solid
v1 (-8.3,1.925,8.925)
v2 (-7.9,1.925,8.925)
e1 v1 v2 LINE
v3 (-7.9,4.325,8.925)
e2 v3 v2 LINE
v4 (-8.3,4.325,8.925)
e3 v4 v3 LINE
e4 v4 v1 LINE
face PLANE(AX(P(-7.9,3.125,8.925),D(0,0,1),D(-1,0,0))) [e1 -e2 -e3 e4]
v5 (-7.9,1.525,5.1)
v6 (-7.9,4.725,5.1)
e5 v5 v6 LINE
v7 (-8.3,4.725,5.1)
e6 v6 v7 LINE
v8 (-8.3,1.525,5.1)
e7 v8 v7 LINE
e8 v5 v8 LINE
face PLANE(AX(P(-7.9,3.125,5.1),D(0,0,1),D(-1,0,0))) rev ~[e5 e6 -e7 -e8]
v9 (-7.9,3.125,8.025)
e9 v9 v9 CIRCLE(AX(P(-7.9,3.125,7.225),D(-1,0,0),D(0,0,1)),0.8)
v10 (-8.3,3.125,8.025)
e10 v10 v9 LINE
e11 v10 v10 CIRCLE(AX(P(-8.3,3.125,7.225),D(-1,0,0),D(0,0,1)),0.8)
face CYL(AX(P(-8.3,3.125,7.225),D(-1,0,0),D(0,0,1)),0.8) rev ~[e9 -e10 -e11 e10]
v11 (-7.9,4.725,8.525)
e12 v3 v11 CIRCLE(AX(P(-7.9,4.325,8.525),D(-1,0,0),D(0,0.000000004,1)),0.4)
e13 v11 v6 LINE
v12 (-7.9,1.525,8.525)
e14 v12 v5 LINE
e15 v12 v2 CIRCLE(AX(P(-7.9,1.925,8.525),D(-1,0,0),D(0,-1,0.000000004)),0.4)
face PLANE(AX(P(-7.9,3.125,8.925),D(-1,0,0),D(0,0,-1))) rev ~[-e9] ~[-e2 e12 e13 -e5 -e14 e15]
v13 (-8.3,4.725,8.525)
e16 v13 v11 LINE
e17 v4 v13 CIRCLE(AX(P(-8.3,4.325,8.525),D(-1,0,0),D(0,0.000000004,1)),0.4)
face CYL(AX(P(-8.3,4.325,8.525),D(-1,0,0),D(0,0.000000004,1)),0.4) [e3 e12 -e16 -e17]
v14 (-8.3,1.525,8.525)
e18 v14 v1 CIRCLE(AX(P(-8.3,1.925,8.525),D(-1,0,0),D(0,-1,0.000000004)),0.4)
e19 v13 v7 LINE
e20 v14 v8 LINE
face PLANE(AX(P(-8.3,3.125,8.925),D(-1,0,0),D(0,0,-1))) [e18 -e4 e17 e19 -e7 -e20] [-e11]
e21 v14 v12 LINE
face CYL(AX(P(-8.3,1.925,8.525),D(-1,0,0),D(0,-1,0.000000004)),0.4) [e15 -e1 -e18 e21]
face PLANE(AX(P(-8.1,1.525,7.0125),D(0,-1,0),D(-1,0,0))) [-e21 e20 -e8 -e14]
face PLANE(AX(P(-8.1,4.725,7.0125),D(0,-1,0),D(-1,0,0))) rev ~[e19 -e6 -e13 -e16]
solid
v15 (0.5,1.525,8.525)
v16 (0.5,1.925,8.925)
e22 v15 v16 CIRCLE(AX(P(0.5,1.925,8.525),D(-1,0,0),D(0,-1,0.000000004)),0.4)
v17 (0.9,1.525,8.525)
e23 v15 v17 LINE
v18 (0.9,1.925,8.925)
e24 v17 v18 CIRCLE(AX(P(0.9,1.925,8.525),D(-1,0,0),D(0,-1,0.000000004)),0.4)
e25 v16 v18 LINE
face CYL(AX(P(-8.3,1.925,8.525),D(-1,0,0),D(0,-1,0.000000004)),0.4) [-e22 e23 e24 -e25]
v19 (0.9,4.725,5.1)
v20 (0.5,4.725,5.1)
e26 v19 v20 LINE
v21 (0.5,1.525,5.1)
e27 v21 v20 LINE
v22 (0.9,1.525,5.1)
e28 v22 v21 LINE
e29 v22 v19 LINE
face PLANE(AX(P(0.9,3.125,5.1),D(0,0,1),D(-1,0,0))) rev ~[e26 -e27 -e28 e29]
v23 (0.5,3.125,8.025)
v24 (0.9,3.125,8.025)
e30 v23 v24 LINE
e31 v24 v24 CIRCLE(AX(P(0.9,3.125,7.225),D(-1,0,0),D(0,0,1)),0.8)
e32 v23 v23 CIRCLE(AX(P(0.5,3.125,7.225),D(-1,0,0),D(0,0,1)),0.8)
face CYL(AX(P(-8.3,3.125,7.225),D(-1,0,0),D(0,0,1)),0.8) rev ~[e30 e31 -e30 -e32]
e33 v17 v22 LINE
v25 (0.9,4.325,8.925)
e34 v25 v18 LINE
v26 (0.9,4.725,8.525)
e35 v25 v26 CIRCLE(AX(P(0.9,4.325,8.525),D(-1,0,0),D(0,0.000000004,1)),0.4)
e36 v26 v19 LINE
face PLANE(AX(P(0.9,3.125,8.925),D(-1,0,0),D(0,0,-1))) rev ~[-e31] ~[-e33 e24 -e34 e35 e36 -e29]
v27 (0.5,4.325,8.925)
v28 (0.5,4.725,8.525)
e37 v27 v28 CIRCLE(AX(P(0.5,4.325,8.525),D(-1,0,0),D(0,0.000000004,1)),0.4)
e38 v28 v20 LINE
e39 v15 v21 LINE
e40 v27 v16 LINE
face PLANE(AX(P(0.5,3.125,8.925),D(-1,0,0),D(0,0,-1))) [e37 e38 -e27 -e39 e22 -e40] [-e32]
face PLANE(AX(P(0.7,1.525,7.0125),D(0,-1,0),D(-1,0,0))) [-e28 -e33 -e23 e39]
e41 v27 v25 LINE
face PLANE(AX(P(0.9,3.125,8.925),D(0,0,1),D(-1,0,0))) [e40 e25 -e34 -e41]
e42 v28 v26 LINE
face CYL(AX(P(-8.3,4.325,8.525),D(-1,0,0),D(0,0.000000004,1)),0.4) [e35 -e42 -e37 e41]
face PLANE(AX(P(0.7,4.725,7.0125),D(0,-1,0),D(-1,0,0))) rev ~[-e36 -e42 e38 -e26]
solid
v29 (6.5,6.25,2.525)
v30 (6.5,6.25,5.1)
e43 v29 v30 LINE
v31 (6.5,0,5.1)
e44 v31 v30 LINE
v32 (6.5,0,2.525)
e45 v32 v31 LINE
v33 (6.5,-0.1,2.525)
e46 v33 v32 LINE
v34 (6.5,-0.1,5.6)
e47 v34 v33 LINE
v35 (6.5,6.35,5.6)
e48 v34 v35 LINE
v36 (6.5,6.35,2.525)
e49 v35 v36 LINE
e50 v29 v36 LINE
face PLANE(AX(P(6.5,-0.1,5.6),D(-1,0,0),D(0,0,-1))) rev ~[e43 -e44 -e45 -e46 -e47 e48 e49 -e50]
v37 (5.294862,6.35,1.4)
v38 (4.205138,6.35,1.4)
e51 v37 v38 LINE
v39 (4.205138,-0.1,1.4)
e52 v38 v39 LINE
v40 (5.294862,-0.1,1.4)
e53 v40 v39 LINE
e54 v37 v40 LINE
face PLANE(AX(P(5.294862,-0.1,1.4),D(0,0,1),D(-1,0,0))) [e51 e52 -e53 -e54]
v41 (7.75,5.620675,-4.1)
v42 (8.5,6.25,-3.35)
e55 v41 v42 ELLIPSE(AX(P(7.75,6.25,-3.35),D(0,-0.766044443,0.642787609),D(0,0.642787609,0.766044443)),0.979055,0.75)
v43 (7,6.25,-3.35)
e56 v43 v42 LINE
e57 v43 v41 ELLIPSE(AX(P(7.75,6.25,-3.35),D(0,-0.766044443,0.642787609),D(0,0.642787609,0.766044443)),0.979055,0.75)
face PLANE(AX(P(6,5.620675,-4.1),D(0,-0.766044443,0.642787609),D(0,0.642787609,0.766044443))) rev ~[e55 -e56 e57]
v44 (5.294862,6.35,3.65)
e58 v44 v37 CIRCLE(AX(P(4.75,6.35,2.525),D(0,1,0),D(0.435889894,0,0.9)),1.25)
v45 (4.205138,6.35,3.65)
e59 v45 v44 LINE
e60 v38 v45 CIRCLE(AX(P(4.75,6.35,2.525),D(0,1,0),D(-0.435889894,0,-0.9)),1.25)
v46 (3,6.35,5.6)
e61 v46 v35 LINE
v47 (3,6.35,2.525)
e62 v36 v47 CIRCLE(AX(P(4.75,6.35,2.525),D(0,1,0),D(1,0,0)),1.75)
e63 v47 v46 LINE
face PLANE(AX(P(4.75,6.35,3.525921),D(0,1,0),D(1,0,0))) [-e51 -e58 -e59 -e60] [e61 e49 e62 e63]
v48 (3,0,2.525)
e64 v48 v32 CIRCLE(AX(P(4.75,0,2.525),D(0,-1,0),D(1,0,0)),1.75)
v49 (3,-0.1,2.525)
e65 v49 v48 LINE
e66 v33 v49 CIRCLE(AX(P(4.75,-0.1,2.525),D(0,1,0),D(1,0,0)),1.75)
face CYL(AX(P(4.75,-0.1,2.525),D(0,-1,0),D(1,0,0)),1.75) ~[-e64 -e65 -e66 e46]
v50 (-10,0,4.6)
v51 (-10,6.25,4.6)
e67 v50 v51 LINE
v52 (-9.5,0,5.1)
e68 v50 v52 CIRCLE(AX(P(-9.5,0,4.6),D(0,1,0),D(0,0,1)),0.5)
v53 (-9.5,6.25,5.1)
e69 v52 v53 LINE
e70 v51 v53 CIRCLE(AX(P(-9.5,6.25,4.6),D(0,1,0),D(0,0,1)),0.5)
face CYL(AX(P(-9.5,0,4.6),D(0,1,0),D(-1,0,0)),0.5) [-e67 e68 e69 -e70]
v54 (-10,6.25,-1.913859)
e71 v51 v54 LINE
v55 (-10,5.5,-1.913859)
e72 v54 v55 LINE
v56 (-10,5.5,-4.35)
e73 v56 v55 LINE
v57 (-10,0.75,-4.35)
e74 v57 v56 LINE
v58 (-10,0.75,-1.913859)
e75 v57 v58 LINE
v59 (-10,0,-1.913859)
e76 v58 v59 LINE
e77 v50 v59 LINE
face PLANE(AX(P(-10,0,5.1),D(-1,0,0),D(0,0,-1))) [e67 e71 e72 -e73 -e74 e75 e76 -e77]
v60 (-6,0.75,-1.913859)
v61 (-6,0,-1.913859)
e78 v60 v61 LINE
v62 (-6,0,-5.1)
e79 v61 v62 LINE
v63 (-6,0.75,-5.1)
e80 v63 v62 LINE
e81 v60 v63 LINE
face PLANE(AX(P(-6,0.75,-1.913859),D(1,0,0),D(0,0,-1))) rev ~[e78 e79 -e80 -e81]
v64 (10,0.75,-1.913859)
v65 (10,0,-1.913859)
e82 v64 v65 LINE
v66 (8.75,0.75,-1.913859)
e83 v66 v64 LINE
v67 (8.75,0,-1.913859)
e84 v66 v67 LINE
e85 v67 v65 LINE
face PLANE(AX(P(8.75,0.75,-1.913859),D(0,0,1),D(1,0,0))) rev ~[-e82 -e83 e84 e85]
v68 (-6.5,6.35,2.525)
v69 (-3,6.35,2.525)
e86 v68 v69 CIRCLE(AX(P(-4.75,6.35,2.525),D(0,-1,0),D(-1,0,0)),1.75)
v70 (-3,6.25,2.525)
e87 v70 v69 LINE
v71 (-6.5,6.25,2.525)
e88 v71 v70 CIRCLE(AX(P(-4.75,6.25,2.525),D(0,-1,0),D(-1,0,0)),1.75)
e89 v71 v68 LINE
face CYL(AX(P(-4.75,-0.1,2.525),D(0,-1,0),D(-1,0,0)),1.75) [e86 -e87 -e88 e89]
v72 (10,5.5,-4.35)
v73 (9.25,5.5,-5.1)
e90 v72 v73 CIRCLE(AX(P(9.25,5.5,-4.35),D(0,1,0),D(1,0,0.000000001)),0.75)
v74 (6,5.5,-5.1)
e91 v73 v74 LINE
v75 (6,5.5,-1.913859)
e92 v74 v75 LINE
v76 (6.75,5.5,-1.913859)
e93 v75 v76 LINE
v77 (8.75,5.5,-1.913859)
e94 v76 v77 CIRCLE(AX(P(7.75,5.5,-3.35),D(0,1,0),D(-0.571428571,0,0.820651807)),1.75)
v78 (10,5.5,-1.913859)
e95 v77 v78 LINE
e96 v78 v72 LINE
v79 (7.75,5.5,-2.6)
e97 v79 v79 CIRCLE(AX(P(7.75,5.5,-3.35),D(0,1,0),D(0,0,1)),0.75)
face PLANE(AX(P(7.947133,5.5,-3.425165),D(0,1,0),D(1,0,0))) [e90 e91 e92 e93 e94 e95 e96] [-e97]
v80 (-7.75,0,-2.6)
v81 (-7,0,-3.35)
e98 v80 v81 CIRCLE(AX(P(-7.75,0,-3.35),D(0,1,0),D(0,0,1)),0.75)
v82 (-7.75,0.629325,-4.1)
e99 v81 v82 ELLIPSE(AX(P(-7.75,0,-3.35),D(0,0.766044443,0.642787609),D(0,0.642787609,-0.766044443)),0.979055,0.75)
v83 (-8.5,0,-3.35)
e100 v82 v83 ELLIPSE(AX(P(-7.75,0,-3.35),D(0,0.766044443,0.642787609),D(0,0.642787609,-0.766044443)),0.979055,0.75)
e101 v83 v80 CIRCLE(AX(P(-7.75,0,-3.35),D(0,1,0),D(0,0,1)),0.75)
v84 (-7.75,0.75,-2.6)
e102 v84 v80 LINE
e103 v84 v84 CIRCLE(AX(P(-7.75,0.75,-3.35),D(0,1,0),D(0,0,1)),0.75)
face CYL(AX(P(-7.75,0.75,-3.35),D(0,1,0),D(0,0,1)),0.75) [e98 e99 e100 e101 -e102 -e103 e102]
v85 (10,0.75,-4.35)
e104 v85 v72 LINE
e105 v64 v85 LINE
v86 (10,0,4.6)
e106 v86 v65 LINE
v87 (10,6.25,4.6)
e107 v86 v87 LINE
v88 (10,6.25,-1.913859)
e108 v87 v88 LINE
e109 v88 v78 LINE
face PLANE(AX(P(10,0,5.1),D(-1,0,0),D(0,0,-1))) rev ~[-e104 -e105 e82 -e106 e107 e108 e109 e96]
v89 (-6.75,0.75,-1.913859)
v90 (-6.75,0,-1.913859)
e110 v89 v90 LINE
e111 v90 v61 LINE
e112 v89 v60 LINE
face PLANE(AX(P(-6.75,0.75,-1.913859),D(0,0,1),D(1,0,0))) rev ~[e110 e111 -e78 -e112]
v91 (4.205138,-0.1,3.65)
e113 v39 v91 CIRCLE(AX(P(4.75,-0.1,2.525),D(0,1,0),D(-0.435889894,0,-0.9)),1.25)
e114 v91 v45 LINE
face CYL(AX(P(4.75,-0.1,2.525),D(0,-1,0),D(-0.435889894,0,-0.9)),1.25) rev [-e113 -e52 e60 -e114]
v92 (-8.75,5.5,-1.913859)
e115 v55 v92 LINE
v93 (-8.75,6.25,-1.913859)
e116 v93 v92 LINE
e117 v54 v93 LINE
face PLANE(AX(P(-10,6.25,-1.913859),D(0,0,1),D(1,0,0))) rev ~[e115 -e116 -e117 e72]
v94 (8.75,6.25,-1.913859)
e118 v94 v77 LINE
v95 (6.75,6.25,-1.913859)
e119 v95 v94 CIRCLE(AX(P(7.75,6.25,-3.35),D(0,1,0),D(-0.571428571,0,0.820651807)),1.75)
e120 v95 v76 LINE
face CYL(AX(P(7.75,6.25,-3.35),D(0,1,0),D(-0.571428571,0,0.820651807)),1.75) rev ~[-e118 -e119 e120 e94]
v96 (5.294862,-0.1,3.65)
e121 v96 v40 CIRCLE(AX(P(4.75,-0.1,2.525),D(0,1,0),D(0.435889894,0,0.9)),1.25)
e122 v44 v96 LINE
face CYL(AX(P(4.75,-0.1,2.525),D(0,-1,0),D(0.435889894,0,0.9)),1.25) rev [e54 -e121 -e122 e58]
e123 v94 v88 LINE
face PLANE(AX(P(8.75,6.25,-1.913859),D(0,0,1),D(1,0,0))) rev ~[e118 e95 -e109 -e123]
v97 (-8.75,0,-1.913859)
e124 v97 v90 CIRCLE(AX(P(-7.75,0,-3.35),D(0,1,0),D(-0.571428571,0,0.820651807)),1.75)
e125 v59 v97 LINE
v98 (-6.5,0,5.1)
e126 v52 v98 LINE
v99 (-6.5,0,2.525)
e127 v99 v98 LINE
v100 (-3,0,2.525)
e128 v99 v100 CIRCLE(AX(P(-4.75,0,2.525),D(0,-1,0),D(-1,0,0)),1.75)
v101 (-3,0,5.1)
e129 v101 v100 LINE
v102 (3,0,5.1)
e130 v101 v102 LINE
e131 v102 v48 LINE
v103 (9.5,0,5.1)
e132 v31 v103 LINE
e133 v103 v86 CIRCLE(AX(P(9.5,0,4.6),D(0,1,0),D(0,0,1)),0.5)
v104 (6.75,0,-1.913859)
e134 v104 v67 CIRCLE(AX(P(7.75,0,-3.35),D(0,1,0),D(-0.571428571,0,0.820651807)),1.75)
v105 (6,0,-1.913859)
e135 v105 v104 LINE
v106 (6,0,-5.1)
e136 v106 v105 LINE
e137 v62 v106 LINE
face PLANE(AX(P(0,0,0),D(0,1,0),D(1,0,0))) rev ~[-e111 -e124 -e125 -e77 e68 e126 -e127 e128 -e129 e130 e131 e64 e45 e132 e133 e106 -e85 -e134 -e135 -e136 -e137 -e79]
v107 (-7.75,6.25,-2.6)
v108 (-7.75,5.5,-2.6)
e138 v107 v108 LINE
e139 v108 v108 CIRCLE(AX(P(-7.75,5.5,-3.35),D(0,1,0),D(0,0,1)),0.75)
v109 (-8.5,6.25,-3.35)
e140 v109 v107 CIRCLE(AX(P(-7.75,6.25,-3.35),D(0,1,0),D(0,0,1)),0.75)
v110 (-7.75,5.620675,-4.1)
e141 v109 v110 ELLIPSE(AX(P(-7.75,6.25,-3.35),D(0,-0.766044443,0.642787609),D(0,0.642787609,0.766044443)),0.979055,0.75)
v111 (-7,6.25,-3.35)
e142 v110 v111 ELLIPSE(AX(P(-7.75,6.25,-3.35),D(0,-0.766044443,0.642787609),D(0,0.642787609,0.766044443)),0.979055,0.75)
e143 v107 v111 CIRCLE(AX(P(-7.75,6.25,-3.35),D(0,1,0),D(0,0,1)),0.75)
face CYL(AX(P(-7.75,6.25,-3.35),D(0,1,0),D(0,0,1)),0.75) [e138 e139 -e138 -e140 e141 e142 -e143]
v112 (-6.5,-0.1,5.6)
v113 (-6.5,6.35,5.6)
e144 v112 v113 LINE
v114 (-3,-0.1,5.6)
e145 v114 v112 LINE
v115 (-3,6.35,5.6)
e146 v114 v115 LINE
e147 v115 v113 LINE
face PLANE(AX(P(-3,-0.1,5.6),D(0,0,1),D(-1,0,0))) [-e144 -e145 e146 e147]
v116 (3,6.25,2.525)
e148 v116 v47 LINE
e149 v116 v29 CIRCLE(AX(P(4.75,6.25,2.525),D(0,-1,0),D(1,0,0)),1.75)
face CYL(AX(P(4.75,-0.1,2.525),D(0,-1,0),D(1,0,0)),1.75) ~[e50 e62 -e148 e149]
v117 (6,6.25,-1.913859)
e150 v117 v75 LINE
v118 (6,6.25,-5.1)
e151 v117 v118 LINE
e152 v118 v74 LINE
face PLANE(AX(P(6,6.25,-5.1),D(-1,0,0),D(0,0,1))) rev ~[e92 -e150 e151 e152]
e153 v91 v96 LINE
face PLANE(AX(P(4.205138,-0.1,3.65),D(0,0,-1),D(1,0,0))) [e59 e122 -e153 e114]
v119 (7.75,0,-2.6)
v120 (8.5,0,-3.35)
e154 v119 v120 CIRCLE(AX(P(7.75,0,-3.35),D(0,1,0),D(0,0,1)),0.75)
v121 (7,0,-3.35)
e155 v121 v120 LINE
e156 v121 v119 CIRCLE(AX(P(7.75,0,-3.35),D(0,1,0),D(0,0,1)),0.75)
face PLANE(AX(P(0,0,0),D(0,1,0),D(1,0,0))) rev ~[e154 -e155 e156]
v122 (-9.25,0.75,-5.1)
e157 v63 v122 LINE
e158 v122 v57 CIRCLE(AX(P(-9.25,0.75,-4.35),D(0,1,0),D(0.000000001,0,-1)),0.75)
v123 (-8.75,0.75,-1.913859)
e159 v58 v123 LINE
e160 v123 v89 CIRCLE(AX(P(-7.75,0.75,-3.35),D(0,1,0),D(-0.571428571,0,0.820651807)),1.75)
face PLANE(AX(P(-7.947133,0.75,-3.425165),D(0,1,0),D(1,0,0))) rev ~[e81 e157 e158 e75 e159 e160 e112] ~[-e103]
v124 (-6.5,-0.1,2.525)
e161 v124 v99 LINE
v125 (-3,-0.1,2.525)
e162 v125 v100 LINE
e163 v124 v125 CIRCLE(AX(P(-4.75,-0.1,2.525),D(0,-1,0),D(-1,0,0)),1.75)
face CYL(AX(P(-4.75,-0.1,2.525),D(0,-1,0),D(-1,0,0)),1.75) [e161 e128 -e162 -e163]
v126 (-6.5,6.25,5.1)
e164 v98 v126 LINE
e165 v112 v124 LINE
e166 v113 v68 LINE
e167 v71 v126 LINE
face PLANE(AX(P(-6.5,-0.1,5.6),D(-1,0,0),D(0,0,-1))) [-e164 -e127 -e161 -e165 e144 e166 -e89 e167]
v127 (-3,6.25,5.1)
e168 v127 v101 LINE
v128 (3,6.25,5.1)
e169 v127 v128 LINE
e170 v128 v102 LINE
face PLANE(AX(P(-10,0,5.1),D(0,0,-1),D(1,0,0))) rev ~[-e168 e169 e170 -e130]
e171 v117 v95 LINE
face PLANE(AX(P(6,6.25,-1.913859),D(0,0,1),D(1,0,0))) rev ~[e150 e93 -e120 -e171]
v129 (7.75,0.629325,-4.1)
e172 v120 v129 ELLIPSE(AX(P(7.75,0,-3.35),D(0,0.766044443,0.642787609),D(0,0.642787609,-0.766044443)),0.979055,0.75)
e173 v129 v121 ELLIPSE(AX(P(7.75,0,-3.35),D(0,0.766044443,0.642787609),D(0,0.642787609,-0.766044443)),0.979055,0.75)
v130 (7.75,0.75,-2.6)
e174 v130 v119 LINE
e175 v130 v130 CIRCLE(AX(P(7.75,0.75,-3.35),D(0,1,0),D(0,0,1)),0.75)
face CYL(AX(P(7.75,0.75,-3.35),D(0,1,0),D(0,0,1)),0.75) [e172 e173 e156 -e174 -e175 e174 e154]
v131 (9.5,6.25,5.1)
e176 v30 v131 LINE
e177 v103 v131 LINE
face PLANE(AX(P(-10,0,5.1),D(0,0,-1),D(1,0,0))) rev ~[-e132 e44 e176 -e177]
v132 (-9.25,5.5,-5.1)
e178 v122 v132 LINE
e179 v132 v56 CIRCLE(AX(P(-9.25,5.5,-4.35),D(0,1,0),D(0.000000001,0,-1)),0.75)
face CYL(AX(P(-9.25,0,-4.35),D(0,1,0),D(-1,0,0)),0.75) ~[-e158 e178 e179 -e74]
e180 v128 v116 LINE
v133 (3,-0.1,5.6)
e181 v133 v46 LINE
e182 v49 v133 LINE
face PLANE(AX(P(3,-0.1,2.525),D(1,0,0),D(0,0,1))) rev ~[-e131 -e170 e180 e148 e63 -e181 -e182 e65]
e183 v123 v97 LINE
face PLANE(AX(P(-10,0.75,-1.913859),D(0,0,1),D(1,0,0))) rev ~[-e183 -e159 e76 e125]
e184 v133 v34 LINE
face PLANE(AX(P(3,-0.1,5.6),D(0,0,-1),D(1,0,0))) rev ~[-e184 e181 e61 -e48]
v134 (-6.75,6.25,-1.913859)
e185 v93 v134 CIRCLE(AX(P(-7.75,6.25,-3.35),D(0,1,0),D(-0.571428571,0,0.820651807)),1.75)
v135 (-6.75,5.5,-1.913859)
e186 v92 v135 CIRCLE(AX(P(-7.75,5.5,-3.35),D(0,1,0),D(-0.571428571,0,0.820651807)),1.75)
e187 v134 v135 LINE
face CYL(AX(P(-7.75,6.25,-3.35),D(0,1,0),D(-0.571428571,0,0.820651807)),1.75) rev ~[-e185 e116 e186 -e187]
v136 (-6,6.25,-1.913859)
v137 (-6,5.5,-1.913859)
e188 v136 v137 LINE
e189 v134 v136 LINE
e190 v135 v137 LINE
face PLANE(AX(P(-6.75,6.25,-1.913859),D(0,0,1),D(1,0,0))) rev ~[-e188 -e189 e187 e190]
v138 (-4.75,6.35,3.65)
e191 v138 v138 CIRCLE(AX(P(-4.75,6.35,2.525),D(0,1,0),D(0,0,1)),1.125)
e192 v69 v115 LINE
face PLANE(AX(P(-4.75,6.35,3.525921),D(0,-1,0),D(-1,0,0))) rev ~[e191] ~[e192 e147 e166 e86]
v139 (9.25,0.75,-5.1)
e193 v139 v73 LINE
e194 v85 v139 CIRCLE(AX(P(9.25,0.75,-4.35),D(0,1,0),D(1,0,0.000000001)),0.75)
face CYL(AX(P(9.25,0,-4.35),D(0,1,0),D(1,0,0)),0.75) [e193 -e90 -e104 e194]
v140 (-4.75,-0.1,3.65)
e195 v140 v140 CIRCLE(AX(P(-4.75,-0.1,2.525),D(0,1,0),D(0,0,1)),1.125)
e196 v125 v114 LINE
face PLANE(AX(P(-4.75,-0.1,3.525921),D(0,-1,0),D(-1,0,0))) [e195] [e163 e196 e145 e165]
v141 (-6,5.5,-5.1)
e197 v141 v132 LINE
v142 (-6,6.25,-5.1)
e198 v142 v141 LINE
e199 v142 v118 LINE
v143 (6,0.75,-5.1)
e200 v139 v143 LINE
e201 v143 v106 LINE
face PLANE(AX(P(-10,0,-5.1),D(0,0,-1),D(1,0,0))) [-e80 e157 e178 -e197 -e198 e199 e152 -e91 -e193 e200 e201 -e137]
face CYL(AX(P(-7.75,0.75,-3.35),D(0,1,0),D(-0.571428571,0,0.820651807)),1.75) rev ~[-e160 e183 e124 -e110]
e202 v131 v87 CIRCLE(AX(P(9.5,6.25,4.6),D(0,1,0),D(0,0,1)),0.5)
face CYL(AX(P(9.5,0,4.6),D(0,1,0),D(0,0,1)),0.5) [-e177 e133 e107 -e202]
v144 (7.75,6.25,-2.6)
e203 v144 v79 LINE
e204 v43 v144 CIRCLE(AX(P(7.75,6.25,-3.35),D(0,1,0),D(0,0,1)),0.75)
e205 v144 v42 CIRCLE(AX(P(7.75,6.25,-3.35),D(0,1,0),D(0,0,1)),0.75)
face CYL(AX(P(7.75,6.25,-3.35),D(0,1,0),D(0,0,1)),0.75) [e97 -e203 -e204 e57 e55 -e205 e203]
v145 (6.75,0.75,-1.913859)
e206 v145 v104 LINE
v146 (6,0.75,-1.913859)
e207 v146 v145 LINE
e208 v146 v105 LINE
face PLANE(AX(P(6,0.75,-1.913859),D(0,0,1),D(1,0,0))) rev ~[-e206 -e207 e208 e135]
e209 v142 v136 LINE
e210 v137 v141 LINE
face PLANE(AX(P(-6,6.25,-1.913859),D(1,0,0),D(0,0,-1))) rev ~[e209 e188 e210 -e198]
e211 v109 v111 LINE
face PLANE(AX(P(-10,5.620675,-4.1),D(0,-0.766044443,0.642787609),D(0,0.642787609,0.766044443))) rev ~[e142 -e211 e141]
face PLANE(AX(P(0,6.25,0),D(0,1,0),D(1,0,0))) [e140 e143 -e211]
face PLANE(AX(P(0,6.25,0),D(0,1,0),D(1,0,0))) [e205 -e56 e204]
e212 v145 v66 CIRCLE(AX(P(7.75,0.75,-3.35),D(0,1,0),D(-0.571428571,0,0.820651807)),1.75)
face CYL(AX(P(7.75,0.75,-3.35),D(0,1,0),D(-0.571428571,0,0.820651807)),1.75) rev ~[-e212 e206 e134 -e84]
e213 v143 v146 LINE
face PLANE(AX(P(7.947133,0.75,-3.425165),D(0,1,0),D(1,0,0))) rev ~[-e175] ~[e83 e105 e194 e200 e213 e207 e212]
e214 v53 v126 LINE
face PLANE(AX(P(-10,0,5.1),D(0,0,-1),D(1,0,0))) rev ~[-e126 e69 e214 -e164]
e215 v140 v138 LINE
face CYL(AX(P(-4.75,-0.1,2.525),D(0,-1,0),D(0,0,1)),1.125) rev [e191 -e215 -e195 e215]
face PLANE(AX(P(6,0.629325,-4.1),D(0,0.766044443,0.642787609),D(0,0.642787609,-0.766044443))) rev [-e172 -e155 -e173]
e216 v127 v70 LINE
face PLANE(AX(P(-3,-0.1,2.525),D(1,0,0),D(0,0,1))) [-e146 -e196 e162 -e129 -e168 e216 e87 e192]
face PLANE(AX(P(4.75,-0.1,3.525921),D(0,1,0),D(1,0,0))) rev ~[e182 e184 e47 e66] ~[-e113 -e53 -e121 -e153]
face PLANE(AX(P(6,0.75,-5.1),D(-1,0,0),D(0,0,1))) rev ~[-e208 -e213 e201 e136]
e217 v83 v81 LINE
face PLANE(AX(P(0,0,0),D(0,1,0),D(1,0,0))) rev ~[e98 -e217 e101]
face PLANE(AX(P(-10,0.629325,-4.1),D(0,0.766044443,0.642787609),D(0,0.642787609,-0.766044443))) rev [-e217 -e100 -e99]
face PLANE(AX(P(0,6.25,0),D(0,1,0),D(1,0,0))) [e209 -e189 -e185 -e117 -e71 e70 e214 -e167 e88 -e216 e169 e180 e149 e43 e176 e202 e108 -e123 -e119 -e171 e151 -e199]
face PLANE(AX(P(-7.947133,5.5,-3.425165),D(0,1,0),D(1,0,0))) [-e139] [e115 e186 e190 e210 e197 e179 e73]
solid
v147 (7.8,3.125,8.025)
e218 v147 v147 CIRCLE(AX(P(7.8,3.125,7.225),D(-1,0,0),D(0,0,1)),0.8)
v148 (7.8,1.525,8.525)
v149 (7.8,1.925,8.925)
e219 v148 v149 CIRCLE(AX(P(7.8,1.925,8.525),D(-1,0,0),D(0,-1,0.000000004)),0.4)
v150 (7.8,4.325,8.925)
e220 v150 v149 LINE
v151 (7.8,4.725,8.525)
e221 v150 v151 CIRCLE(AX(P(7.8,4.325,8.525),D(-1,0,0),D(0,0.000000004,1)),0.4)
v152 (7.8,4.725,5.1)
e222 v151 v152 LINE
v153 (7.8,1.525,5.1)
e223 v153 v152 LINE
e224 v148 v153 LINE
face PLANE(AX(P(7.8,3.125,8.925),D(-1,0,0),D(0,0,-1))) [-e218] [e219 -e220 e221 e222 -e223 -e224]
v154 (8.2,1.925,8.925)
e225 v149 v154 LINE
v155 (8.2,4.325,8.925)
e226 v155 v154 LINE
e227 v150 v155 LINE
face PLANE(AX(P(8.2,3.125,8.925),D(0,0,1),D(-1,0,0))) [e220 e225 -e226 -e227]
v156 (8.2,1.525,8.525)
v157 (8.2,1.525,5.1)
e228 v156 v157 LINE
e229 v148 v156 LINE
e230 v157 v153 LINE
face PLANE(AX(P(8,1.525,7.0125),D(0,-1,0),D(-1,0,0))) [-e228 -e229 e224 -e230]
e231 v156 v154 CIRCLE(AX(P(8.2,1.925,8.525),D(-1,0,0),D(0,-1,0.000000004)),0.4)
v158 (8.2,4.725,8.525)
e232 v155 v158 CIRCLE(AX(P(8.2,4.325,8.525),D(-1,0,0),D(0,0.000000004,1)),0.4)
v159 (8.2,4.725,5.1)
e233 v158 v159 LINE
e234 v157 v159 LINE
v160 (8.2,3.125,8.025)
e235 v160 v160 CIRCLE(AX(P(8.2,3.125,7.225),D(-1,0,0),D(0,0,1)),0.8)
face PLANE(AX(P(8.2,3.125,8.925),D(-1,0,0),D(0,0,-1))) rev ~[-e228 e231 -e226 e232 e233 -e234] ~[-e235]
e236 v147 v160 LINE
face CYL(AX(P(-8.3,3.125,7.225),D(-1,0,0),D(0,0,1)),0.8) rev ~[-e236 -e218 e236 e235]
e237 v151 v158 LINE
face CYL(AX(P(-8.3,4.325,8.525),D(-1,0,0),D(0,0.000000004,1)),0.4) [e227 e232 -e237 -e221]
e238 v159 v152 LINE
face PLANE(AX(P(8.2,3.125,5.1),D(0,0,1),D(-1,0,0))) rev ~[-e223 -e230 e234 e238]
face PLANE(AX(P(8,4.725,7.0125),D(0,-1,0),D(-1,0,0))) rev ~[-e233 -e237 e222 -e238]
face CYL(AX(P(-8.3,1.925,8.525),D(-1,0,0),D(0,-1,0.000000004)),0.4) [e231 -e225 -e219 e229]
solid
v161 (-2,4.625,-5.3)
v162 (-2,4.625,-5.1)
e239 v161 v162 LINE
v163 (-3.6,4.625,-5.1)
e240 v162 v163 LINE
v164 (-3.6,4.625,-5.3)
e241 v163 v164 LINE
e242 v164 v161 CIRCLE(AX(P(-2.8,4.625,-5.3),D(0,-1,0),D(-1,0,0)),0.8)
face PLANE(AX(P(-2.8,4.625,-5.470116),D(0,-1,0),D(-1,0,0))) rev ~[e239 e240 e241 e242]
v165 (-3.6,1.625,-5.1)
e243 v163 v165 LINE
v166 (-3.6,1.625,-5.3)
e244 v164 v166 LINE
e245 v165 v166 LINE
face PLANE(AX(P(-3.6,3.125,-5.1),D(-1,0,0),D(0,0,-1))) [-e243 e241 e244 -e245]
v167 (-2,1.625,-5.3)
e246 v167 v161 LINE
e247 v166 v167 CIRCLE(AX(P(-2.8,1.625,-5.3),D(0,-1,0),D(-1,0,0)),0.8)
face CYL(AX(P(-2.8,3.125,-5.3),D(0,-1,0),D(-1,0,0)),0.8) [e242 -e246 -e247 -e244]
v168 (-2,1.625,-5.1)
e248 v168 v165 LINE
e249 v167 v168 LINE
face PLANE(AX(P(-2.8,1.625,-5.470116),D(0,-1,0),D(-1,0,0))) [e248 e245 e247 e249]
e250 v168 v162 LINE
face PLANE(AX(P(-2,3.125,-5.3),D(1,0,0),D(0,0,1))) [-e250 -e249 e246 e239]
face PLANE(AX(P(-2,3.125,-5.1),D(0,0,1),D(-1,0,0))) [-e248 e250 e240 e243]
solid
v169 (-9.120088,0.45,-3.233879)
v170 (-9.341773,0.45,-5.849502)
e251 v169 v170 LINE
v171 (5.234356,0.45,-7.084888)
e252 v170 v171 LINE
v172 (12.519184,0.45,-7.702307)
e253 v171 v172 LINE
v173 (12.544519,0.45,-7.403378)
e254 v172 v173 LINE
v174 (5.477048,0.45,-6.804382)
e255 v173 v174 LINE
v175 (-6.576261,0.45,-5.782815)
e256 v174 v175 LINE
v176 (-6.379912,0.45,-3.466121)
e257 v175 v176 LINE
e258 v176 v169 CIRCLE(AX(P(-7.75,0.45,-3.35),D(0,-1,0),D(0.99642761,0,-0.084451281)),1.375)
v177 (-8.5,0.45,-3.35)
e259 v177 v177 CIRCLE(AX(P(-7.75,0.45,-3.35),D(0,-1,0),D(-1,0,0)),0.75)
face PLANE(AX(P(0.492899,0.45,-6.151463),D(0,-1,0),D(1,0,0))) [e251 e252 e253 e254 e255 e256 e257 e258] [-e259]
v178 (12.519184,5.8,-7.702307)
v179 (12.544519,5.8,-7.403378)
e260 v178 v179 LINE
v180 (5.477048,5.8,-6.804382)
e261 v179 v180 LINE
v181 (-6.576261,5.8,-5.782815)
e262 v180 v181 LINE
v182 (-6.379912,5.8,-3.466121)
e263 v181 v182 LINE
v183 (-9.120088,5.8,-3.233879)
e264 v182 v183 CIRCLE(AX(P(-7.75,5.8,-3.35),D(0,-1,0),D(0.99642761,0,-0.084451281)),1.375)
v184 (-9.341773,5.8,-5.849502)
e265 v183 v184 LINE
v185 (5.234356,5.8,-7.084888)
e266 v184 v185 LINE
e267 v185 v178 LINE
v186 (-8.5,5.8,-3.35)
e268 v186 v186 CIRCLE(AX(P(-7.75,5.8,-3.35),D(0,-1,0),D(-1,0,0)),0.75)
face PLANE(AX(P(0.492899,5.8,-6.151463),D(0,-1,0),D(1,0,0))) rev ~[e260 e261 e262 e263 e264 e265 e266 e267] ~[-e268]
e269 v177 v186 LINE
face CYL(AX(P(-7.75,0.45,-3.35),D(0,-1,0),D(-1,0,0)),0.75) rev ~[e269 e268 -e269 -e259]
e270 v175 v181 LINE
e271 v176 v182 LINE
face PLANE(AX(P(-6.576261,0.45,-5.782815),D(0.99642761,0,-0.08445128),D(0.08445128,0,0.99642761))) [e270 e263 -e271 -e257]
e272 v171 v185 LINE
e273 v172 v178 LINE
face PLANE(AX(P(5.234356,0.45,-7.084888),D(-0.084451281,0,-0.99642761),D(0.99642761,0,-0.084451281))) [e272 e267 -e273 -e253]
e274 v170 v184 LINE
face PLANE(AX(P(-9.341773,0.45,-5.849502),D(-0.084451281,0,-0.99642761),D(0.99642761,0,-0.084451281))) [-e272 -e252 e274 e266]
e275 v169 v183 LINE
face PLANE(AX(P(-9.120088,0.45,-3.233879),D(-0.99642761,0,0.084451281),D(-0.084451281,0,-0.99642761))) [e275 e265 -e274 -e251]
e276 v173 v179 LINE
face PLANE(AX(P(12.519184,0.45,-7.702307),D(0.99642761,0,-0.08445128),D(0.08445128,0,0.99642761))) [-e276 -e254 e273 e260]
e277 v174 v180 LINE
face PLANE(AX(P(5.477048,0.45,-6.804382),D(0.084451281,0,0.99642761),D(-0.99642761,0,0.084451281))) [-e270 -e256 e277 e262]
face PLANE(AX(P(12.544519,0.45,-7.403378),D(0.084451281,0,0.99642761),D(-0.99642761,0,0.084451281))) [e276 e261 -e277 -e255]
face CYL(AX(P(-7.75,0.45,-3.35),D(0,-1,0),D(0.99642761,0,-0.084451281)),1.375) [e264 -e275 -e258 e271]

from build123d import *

# Parameters (mm, degrees)
SKETCH1_W             = 20
SKETCH1_H             = 10.2
BOSS_EXTRUDE1_DEPTH   = 6.25
FILLET1_R             = 0.75
FILLET2_R             = 0.5
SKETCH2_R             = 1.125
CUT_EXTRUDE1_DEPTH    = 13.848054327
BOSS_EXTRUDE2_START   = -6.35
SKETCH3_R             = 1.125
BOSS_EXTRUDE2_DEPTH   = 6.45
SKETCH4_R             = 0.75
CUT_EXTRUDE2_DEPTH    = 0.75
CUT_EXTRUDE3_START    = -5.5
SKETCH4_4_R           = 0.75
CUT_EXTRUDE3_DEPTH    = 0.75
CUT_EXTRUDE4_REACH    = 23.718
CUT_EXTRUDE5_START    = -16
CUT_EXTRUDE5_DEPTH    = 4
BOSS_EXTRUDE4_DEPTH   = 1.5
BOSS_EXTRUDE5_START   = 0.3
BOSS_EXTRUDE5_DEPTH   = 5.35
SKETCH10_W            = 0.4
SKETCH10_H            = 3.825
BOSS_EXTRUDE6_DEPTH   = 1.6
BOSS_EXTRUDE6_2_DEPTH = 1.6
BOSS_EXTRUDE6_3_DEPTH = 1.6
SKETCH11_R            = 0.8
CUT_EXTRUDE8_DEPTH    = 24.547231287


with BuildPart() as part:
    # Sketch1 → Boss-Extrude1 (new body)
    with BuildSketch(Plane(origin=(0, 0, 0), x_dir=(1, 0, 0), z_dir=(0, 1, 0))):
        Rectangle(SKETCH1_W, SKETCH1_H)
    extrude(amount=BOSS_EXTRUDE1_DEPTH)

    # Fillet1
    fillet1_edges = [part.edges().sort_by_distance(p)[0] for p in [
        (-10, 3.125, -5.1),
        (10, 3.125, -5.1),
    ]]
    fillet(fillet1_edges, radius=FILLET1_R)

    # Fillet2
    fillet2_edges = [part.edges().sort_by_distance(p)[0] for p in [
        (10, 3.125, 5.1),
        (-10, 3.125, 5.1),
    ]]
    fillet(fillet2_edges, radius=FILLET2_R)

    # Sketch2 → Cut-Extrude1 (cut, through all)
    with BuildSketch(Plane(origin=(0, 6.25, 0), x_dir=(1, 0, 0), z_dir=(0, 1, 0))):
        with Locations(Location((-4.75, -2.525, 0), (0, 0, 270))):
            Circle(SKETCH2_R)
        with BuildLine():
            Line((5.294862368, -1.4), (4.205137632, -1.4))
            ThreePointArc((4.205137632, -1.4), (3.5, -2.525), (4.205137632, -3.65))
            Line((4.205137632, -3.65), (5.294862368, -3.65))
            ThreePointArc((5.294862368, -3.65), (6, -2.525), (5.294862368, -1.4))
        make_face()
    extrude(amount=-CUT_EXTRUDE1_DEPTH, mode=Mode.SUBTRACT)

    # Sketch3 → Boss-Extrude2 (add)
    # profile 1 of 2: a face of its own
    with BuildSketch(Plane(origin=(0, 6.25, 0), x_dir=(1, 0, 0), z_dir=(0, 1, 0)).offset(BOSS_EXTRUDE2_START)):
        with BuildLine():
            Line((-6.5, -5.1), (-6.5, -2.525))
            ThreePointArc((-6.5, -2.525), (-4.75, -0.775), (-3, -2.525))
            Line((-3, -2.525), (-3, -5.1))
            Line((-3, -5.1), (-3, -5.6))
            Line((-3, -5.6), (-6.5, -5.6))
            Line((-6.5, -5.6), (-6.5, -5.1))
        make_face()
        with Locations(Location((-4.75, -2.525, 0), (0, 0, 270))):
            Circle(SKETCH3_R, mode=Mode.SUBTRACT)
    # profile 2 of 2: a face of its own
    with BuildSketch(Plane(origin=(0, 6.25, 0), x_dir=(1, 0, 0), z_dir=(0, 1, 0)).offset(BOSS_EXTRUDE2_START)):
        with BuildLine():
            Line((6.5, -5.6), (6.5, -5.1))
            Line((6.5, -5.1), (6.5, -2.525))
            ThreePointArc((6.5, -2.525), (4.75, -0.775), (3, -2.525))
            Line((3, -2.525), (3, -5.1))
            Line((3, -5.1), (3, -5.6))
            Line((3, -5.6), (6.5, -5.6))
        make_face()
        with BuildLine():
            Line((4.205137632, -3.65), (5.294862368, -3.65))
            ThreePointArc((5.294862368, -3.65), (6, -2.525), (5.294862368, -1.4))
            Line((5.294862368, -1.4), (4.205137632, -1.4))
            ThreePointArc((4.205137632, -1.4), (3.5, -2.525), (4.205137632, -3.65))
        make_face(mode=Mode.SUBTRACT)
    extrude(amount=BOSS_EXTRUDE2_DEPTH)

    # Sketch4 → Cut-Extrude2 (cut)
    # profile 1 of 2: a face of its own
    with BuildSketch(Plane(origin=(0, 6.25, 0), x_dir=(1, 0, 0), z_dir=(0, 1, 0))):
        with BuildLine():
            Line((-6, 1.913859338), (-6, 5.1))
            Line((-6, 5.1), (-9.25, 5.1))
            ThreePointArc((-9.25, 5.1), (-9.780330086, 4.880330086), (-10, 4.35))
            Line((-10, 4.35), (-10, 1.913859338))
            Line((-10, 1.913859338), (-8.75, 1.913859338))
            ThreePointArc((-8.75, 1.913859338), (-7.75, 1.6), (-6.75, 1.913859338))
            Line((-6.75, 1.913859338), (-6, 1.913859338))
        make_face()
        with Locations(Location((-7.75, 3.35, 0), (0, 0, 270))):
            Circle(SKETCH4_R, mode=Mode.SUBTRACT)
    # profile 2 of 2: a face of its own
    with BuildSketch(Plane(origin=(0, 6.25, 0), x_dir=(1, 0, 0), z_dir=(0, 1, 0))):
        with BuildLine():
            Line((9.25, 5.1), (6, 5.1))
            Line((6, 5.1), (6, 1.913859338))
            Line((6, 1.913859338), (6.75, 1.913859338))
            ThreePointArc((6.75, 1.913859338), (7.75, 1.6), (8.75, 1.913859338))
            Line((8.75, 1.913859338), (10, 1.913859338))
            Line((10, 1.913859338), (10, 4.35))
            ThreePointArc((10, 4.35), (9.780330086, 4.880330086), (9.25, 5.1))
        make_face()
        with Locations(Location((7.75, 3.35, 0), (0, 0, 270))):
            Circle(SKETCH4_R, mode=Mode.SUBTRACT)
    extrude(amount=-CUT_EXTRUDE2_DEPTH, mode=Mode.SUBTRACT)

    # Sketch4<4> → Cut-Extrude3 (cut)
    # profile 1 of 2: a face of its own
    with BuildSketch(Plane(origin=(0, 6.25, 0), x_dir=(1, 0, 0), z_dir=(0, 1, 0)).offset(CUT_EXTRUDE3_START)):
        with BuildLine():
            Line((-6, 1.913859338), (-6, 5.1))
            Line((-6, 5.1), (-9.25, 5.1))
            ThreePointArc((-9.25, 5.1), (-9.780330086, 4.880330086), (-10, 4.35))
            Line((-10, 4.35), (-10, 1.913859338))
            Line((-10, 1.913859338), (-8.75, 1.913859338))
            ThreePointArc((-8.75, 1.913859338), (-7.75, 1.6), (-6.75, 1.913859338))
            Line((-6.75, 1.913859338), (-6, 1.913859338))
        make_face()
        with Locations(Location((-7.75, 3.35, 0), (0, 0, 270))):
            Circle(SKETCH4_4_R, mode=Mode.SUBTRACT)
    # profile 2 of 2: a face of its own
    with BuildSketch(Plane(origin=(0, 6.25, 0), x_dir=(1, 0, 0), z_dir=(0, 1, 0)).offset(CUT_EXTRUDE3_START)):
        with BuildLine():
            Line((9.25, 5.1), (6, 5.1))
            Line((6, 5.1), (6, 1.913859338))
            Line((6, 1.913859338), (6.75, 1.913859338))
            ThreePointArc((6.75, 1.913859338), (7.75, 1.6), (8.75, 1.913859338))
            Line((8.75, 1.913859338), (10, 1.913859338))
            Line((10, 1.913859338), (10, 4.35))
            ThreePointArc((10, 4.35), (9.780330086, 4.880330086), (9.25, 5.1))
        make_face()
        with Locations(Location((7.75, 3.35, 0), (0, 0, 270))):
            Circle(SKETCH4_4_R, mode=Mode.SUBTRACT)
    extrude(amount=-CUT_EXTRUDE3_DEPTH, mode=Mode.SUBTRACT)

    # Cut-Extrude4: up to this face of the body (flat: up to its plane)
    cut_extrude4_end = Plane(part.part.faces().sort_by_distance((-6, 5.875, -3.506929669))[0])
    # Sketch5 → Cut-Extrude4 (cut, up to the picked face)
    with BuildSketch(Plane.ZY.offset(10), mode=Mode.PRIVATE) as cut_extrude4_sk1:
        Polygon((-4.1, 6.25), (-4.1, 5.620675277), (-3.35, 6.25), align=None)
    cut_extrude4_tool1 = split(extrude(cut_extrude4_sk1.sketch, amount=-CUT_EXTRUDE4_REACH, mode=Mode.PRIVATE), bisect_by=cut_extrude4_end, keep=Keep.BOTH, mode=Mode.PRIVATE)
    cut_extrude4 = cut_extrude4_tool1.solids().sort_by(Axis((-10, 6.040225, -3.85), (1, 0, 0)))[0]
    add(cut_extrude4, mode=Mode.SUBTRACT)

    # Sketch5<2> → Cut-Extrude5 (cut)
    with BuildSketch(Plane.ZY.offset(10).offset(CUT_EXTRUDE5_START)):
        Polygon((-4.1, 6.25), (-4.1, 5.620675277), (-3.35, 6.25), align=None)
    cut_extrude5 = extrude(amount=-CUT_EXTRUDE5_DEPTH, mode=Mode.SUBTRACT)

    # Mirror2: Cut-Extrude4, Cut-Extrude5 across plane
    add(cut_extrude4.mirror(Plane(origin=(0, 3.125, 0), x_dir=(0, 0, 1), z_dir=(0, -1, 0))), mode=Mode.SUBTRACT)
    add(cut_extrude5.mirror(Plane(origin=(0, 3.125, 0), x_dir=(0, 0, 1), z_dir=(0, -1, 0))), mode=Mode.SUBTRACT)


with BuildPart() as body_2:
    # Sketch6 → Boss-Extrude4 (new, symmetric)
    with BuildSketch(Plane(origin=(0, 3.125, 0), x_dir=(-1, 0, 0), z_dir=(0, -1, 0))):
        with BuildLine():
            Line((2, 5.1), (3.6, 5.1))
            Line((3.6, 5.1), (3.6, 5.3))
            ThreePointArc((3.6, 5.3), (2.8, 6.1), (2, 5.3))
            Line((2, 5.3), (2, 5.1))
        make_face()
    extrude(amount=BOSS_EXTRUDE4_DEPTH, both=True)


with BuildPart() as body_3:
    # Sketch7 → Boss-Extrude5 (new body)
    with BuildSketch(Plane.XZ.offset(-0.75).offset(BOSS_EXTRUDE5_START)):
        with BuildLine():
            Line((5.477048297, -6.804381566), (-6.576261264, -5.782814703))
            Line((-6.576261264, -5.782814703), (-6.379912037, -3.466120511))
            ThreePointArc((-6.379912037, -3.466120511), (-7.633879489, -1.979912037), (-9.120087963, -3.233879489))
            Line((-9.120087963, -3.233879489), (-9.341772575, -5.849501964))
            Line((-9.341772575, -5.849501964), (5.234355633, -7.084887938))
            Line((5.234355633, -7.084887938), (12.519183711, -7.702306659))
            Line((12.519183711, -7.702306659), (12.544519095, -7.403378376))
            Line((12.544519095, -7.403378376), (5.477048297, -6.804381566))
        make_face()
        with BuildLine():
            ThreePointArc((-7, -3.35), (-7.75, -2.6), (-8.5, -3.35))
            ThreePointArc((-8.5, -3.35), (-7.75, -4.1), (-7, -3.35))
        make_face(mode=Mode.SUBTRACT)
    extrude(amount=-BOSS_EXTRUDE5_DEPTH)


with BuildPart() as body_4:
    # Sketch10 → Boss-Extrude6 (new, symmetric)
    with BuildSketch(Plane(origin=(0, 3.125, 0), x_dir=(-1, 0, 0), z_dir=(0, -1, 0))):
        with Locations((-8, -7.0125)):
            Rectangle(SKETCH10_W, SKETCH10_H)
    extrude(amount=BOSS_EXTRUDE6_DEPTH, both=True)


with BuildPart() as body_5:
    # Sketch10 → Boss-Extrude6 2 (new, symmetric)
    with BuildSketch(Plane(origin=(0, 3.125, 0), x_dir=(-1, 0, 0), z_dir=(0, -1, 0))):
        with Locations((-0.7, -7.0125)):
            Rectangle(SKETCH10_W, SKETCH10_H)
    extrude(amount=BOSS_EXTRUDE6_2_DEPTH, both=True)


with BuildPart() as body_6:
    # Sketch10 → Boss-Extrude6 3 (new, symmetric)
    with BuildSketch(Plane(origin=(0, 3.125, 0), x_dir=(-1, 0, 0), z_dir=(0, -1, 0))):
        with Locations((8.1, -7.0125)):
            Rectangle(SKETCH10_W, SKETCH10_H)
    extrude(amount=BOSS_EXTRUDE6_3_DEPTH, both=True)


with BuildPart() as cut_extrude8_tool:
    # Sketch11 → Cut-Extrude8 (new, through all)
    with BuildSketch(Plane.ZY.offset(8.3)):
        with Locations((7.225, 3.125)):
            Circle(SKETCH11_R)
        with BuildLine():
            Line((8.925, 4.725), (8.925, 4.325))
            ThreePointArc((8.925, 4.325), (8.807842712, 4.607842712), (8.525, 4.725))
            Line((8.525, 4.725), (8.925, 4.725))
        make_face()
        with BuildLine():
            Line((8.925, 1.525), (8.525, 1.525))
            ThreePointArc((8.525, 1.525), (8.807842712, 1.642157288), (8.925, 1.925))
            Line((8.925, 1.925), (8.925, 1.525))
        make_face()
    extrude(amount=-CUT_EXTRUDE8_DEPTH)


with BuildPart() as body_4_1:
    add(body_4.part)

    # Cut-Extrude8: cut by cut_extrude8_tool
    add(cut_extrude8_tool.part, mode=Mode.SUBTRACT)


with BuildPart() as body_5_1:
    add(body_5.part)

    # Cut-Extrude8: cut by cut_extrude8_tool
    add(cut_extrude8_tool.part, mode=Mode.SUBTRACT)


with BuildPart() as body_6_1:
    add(body_6.part)

    # Cut-Extrude8: cut by cut_extrude8_tool
    add(cut_extrude8_tool.part, mode=Mode.SUBTRACT)


solid = Compound([part.part, body_2.part, body_3.part, body_4_1.part, body_5_1.part, body_6_1.part])
